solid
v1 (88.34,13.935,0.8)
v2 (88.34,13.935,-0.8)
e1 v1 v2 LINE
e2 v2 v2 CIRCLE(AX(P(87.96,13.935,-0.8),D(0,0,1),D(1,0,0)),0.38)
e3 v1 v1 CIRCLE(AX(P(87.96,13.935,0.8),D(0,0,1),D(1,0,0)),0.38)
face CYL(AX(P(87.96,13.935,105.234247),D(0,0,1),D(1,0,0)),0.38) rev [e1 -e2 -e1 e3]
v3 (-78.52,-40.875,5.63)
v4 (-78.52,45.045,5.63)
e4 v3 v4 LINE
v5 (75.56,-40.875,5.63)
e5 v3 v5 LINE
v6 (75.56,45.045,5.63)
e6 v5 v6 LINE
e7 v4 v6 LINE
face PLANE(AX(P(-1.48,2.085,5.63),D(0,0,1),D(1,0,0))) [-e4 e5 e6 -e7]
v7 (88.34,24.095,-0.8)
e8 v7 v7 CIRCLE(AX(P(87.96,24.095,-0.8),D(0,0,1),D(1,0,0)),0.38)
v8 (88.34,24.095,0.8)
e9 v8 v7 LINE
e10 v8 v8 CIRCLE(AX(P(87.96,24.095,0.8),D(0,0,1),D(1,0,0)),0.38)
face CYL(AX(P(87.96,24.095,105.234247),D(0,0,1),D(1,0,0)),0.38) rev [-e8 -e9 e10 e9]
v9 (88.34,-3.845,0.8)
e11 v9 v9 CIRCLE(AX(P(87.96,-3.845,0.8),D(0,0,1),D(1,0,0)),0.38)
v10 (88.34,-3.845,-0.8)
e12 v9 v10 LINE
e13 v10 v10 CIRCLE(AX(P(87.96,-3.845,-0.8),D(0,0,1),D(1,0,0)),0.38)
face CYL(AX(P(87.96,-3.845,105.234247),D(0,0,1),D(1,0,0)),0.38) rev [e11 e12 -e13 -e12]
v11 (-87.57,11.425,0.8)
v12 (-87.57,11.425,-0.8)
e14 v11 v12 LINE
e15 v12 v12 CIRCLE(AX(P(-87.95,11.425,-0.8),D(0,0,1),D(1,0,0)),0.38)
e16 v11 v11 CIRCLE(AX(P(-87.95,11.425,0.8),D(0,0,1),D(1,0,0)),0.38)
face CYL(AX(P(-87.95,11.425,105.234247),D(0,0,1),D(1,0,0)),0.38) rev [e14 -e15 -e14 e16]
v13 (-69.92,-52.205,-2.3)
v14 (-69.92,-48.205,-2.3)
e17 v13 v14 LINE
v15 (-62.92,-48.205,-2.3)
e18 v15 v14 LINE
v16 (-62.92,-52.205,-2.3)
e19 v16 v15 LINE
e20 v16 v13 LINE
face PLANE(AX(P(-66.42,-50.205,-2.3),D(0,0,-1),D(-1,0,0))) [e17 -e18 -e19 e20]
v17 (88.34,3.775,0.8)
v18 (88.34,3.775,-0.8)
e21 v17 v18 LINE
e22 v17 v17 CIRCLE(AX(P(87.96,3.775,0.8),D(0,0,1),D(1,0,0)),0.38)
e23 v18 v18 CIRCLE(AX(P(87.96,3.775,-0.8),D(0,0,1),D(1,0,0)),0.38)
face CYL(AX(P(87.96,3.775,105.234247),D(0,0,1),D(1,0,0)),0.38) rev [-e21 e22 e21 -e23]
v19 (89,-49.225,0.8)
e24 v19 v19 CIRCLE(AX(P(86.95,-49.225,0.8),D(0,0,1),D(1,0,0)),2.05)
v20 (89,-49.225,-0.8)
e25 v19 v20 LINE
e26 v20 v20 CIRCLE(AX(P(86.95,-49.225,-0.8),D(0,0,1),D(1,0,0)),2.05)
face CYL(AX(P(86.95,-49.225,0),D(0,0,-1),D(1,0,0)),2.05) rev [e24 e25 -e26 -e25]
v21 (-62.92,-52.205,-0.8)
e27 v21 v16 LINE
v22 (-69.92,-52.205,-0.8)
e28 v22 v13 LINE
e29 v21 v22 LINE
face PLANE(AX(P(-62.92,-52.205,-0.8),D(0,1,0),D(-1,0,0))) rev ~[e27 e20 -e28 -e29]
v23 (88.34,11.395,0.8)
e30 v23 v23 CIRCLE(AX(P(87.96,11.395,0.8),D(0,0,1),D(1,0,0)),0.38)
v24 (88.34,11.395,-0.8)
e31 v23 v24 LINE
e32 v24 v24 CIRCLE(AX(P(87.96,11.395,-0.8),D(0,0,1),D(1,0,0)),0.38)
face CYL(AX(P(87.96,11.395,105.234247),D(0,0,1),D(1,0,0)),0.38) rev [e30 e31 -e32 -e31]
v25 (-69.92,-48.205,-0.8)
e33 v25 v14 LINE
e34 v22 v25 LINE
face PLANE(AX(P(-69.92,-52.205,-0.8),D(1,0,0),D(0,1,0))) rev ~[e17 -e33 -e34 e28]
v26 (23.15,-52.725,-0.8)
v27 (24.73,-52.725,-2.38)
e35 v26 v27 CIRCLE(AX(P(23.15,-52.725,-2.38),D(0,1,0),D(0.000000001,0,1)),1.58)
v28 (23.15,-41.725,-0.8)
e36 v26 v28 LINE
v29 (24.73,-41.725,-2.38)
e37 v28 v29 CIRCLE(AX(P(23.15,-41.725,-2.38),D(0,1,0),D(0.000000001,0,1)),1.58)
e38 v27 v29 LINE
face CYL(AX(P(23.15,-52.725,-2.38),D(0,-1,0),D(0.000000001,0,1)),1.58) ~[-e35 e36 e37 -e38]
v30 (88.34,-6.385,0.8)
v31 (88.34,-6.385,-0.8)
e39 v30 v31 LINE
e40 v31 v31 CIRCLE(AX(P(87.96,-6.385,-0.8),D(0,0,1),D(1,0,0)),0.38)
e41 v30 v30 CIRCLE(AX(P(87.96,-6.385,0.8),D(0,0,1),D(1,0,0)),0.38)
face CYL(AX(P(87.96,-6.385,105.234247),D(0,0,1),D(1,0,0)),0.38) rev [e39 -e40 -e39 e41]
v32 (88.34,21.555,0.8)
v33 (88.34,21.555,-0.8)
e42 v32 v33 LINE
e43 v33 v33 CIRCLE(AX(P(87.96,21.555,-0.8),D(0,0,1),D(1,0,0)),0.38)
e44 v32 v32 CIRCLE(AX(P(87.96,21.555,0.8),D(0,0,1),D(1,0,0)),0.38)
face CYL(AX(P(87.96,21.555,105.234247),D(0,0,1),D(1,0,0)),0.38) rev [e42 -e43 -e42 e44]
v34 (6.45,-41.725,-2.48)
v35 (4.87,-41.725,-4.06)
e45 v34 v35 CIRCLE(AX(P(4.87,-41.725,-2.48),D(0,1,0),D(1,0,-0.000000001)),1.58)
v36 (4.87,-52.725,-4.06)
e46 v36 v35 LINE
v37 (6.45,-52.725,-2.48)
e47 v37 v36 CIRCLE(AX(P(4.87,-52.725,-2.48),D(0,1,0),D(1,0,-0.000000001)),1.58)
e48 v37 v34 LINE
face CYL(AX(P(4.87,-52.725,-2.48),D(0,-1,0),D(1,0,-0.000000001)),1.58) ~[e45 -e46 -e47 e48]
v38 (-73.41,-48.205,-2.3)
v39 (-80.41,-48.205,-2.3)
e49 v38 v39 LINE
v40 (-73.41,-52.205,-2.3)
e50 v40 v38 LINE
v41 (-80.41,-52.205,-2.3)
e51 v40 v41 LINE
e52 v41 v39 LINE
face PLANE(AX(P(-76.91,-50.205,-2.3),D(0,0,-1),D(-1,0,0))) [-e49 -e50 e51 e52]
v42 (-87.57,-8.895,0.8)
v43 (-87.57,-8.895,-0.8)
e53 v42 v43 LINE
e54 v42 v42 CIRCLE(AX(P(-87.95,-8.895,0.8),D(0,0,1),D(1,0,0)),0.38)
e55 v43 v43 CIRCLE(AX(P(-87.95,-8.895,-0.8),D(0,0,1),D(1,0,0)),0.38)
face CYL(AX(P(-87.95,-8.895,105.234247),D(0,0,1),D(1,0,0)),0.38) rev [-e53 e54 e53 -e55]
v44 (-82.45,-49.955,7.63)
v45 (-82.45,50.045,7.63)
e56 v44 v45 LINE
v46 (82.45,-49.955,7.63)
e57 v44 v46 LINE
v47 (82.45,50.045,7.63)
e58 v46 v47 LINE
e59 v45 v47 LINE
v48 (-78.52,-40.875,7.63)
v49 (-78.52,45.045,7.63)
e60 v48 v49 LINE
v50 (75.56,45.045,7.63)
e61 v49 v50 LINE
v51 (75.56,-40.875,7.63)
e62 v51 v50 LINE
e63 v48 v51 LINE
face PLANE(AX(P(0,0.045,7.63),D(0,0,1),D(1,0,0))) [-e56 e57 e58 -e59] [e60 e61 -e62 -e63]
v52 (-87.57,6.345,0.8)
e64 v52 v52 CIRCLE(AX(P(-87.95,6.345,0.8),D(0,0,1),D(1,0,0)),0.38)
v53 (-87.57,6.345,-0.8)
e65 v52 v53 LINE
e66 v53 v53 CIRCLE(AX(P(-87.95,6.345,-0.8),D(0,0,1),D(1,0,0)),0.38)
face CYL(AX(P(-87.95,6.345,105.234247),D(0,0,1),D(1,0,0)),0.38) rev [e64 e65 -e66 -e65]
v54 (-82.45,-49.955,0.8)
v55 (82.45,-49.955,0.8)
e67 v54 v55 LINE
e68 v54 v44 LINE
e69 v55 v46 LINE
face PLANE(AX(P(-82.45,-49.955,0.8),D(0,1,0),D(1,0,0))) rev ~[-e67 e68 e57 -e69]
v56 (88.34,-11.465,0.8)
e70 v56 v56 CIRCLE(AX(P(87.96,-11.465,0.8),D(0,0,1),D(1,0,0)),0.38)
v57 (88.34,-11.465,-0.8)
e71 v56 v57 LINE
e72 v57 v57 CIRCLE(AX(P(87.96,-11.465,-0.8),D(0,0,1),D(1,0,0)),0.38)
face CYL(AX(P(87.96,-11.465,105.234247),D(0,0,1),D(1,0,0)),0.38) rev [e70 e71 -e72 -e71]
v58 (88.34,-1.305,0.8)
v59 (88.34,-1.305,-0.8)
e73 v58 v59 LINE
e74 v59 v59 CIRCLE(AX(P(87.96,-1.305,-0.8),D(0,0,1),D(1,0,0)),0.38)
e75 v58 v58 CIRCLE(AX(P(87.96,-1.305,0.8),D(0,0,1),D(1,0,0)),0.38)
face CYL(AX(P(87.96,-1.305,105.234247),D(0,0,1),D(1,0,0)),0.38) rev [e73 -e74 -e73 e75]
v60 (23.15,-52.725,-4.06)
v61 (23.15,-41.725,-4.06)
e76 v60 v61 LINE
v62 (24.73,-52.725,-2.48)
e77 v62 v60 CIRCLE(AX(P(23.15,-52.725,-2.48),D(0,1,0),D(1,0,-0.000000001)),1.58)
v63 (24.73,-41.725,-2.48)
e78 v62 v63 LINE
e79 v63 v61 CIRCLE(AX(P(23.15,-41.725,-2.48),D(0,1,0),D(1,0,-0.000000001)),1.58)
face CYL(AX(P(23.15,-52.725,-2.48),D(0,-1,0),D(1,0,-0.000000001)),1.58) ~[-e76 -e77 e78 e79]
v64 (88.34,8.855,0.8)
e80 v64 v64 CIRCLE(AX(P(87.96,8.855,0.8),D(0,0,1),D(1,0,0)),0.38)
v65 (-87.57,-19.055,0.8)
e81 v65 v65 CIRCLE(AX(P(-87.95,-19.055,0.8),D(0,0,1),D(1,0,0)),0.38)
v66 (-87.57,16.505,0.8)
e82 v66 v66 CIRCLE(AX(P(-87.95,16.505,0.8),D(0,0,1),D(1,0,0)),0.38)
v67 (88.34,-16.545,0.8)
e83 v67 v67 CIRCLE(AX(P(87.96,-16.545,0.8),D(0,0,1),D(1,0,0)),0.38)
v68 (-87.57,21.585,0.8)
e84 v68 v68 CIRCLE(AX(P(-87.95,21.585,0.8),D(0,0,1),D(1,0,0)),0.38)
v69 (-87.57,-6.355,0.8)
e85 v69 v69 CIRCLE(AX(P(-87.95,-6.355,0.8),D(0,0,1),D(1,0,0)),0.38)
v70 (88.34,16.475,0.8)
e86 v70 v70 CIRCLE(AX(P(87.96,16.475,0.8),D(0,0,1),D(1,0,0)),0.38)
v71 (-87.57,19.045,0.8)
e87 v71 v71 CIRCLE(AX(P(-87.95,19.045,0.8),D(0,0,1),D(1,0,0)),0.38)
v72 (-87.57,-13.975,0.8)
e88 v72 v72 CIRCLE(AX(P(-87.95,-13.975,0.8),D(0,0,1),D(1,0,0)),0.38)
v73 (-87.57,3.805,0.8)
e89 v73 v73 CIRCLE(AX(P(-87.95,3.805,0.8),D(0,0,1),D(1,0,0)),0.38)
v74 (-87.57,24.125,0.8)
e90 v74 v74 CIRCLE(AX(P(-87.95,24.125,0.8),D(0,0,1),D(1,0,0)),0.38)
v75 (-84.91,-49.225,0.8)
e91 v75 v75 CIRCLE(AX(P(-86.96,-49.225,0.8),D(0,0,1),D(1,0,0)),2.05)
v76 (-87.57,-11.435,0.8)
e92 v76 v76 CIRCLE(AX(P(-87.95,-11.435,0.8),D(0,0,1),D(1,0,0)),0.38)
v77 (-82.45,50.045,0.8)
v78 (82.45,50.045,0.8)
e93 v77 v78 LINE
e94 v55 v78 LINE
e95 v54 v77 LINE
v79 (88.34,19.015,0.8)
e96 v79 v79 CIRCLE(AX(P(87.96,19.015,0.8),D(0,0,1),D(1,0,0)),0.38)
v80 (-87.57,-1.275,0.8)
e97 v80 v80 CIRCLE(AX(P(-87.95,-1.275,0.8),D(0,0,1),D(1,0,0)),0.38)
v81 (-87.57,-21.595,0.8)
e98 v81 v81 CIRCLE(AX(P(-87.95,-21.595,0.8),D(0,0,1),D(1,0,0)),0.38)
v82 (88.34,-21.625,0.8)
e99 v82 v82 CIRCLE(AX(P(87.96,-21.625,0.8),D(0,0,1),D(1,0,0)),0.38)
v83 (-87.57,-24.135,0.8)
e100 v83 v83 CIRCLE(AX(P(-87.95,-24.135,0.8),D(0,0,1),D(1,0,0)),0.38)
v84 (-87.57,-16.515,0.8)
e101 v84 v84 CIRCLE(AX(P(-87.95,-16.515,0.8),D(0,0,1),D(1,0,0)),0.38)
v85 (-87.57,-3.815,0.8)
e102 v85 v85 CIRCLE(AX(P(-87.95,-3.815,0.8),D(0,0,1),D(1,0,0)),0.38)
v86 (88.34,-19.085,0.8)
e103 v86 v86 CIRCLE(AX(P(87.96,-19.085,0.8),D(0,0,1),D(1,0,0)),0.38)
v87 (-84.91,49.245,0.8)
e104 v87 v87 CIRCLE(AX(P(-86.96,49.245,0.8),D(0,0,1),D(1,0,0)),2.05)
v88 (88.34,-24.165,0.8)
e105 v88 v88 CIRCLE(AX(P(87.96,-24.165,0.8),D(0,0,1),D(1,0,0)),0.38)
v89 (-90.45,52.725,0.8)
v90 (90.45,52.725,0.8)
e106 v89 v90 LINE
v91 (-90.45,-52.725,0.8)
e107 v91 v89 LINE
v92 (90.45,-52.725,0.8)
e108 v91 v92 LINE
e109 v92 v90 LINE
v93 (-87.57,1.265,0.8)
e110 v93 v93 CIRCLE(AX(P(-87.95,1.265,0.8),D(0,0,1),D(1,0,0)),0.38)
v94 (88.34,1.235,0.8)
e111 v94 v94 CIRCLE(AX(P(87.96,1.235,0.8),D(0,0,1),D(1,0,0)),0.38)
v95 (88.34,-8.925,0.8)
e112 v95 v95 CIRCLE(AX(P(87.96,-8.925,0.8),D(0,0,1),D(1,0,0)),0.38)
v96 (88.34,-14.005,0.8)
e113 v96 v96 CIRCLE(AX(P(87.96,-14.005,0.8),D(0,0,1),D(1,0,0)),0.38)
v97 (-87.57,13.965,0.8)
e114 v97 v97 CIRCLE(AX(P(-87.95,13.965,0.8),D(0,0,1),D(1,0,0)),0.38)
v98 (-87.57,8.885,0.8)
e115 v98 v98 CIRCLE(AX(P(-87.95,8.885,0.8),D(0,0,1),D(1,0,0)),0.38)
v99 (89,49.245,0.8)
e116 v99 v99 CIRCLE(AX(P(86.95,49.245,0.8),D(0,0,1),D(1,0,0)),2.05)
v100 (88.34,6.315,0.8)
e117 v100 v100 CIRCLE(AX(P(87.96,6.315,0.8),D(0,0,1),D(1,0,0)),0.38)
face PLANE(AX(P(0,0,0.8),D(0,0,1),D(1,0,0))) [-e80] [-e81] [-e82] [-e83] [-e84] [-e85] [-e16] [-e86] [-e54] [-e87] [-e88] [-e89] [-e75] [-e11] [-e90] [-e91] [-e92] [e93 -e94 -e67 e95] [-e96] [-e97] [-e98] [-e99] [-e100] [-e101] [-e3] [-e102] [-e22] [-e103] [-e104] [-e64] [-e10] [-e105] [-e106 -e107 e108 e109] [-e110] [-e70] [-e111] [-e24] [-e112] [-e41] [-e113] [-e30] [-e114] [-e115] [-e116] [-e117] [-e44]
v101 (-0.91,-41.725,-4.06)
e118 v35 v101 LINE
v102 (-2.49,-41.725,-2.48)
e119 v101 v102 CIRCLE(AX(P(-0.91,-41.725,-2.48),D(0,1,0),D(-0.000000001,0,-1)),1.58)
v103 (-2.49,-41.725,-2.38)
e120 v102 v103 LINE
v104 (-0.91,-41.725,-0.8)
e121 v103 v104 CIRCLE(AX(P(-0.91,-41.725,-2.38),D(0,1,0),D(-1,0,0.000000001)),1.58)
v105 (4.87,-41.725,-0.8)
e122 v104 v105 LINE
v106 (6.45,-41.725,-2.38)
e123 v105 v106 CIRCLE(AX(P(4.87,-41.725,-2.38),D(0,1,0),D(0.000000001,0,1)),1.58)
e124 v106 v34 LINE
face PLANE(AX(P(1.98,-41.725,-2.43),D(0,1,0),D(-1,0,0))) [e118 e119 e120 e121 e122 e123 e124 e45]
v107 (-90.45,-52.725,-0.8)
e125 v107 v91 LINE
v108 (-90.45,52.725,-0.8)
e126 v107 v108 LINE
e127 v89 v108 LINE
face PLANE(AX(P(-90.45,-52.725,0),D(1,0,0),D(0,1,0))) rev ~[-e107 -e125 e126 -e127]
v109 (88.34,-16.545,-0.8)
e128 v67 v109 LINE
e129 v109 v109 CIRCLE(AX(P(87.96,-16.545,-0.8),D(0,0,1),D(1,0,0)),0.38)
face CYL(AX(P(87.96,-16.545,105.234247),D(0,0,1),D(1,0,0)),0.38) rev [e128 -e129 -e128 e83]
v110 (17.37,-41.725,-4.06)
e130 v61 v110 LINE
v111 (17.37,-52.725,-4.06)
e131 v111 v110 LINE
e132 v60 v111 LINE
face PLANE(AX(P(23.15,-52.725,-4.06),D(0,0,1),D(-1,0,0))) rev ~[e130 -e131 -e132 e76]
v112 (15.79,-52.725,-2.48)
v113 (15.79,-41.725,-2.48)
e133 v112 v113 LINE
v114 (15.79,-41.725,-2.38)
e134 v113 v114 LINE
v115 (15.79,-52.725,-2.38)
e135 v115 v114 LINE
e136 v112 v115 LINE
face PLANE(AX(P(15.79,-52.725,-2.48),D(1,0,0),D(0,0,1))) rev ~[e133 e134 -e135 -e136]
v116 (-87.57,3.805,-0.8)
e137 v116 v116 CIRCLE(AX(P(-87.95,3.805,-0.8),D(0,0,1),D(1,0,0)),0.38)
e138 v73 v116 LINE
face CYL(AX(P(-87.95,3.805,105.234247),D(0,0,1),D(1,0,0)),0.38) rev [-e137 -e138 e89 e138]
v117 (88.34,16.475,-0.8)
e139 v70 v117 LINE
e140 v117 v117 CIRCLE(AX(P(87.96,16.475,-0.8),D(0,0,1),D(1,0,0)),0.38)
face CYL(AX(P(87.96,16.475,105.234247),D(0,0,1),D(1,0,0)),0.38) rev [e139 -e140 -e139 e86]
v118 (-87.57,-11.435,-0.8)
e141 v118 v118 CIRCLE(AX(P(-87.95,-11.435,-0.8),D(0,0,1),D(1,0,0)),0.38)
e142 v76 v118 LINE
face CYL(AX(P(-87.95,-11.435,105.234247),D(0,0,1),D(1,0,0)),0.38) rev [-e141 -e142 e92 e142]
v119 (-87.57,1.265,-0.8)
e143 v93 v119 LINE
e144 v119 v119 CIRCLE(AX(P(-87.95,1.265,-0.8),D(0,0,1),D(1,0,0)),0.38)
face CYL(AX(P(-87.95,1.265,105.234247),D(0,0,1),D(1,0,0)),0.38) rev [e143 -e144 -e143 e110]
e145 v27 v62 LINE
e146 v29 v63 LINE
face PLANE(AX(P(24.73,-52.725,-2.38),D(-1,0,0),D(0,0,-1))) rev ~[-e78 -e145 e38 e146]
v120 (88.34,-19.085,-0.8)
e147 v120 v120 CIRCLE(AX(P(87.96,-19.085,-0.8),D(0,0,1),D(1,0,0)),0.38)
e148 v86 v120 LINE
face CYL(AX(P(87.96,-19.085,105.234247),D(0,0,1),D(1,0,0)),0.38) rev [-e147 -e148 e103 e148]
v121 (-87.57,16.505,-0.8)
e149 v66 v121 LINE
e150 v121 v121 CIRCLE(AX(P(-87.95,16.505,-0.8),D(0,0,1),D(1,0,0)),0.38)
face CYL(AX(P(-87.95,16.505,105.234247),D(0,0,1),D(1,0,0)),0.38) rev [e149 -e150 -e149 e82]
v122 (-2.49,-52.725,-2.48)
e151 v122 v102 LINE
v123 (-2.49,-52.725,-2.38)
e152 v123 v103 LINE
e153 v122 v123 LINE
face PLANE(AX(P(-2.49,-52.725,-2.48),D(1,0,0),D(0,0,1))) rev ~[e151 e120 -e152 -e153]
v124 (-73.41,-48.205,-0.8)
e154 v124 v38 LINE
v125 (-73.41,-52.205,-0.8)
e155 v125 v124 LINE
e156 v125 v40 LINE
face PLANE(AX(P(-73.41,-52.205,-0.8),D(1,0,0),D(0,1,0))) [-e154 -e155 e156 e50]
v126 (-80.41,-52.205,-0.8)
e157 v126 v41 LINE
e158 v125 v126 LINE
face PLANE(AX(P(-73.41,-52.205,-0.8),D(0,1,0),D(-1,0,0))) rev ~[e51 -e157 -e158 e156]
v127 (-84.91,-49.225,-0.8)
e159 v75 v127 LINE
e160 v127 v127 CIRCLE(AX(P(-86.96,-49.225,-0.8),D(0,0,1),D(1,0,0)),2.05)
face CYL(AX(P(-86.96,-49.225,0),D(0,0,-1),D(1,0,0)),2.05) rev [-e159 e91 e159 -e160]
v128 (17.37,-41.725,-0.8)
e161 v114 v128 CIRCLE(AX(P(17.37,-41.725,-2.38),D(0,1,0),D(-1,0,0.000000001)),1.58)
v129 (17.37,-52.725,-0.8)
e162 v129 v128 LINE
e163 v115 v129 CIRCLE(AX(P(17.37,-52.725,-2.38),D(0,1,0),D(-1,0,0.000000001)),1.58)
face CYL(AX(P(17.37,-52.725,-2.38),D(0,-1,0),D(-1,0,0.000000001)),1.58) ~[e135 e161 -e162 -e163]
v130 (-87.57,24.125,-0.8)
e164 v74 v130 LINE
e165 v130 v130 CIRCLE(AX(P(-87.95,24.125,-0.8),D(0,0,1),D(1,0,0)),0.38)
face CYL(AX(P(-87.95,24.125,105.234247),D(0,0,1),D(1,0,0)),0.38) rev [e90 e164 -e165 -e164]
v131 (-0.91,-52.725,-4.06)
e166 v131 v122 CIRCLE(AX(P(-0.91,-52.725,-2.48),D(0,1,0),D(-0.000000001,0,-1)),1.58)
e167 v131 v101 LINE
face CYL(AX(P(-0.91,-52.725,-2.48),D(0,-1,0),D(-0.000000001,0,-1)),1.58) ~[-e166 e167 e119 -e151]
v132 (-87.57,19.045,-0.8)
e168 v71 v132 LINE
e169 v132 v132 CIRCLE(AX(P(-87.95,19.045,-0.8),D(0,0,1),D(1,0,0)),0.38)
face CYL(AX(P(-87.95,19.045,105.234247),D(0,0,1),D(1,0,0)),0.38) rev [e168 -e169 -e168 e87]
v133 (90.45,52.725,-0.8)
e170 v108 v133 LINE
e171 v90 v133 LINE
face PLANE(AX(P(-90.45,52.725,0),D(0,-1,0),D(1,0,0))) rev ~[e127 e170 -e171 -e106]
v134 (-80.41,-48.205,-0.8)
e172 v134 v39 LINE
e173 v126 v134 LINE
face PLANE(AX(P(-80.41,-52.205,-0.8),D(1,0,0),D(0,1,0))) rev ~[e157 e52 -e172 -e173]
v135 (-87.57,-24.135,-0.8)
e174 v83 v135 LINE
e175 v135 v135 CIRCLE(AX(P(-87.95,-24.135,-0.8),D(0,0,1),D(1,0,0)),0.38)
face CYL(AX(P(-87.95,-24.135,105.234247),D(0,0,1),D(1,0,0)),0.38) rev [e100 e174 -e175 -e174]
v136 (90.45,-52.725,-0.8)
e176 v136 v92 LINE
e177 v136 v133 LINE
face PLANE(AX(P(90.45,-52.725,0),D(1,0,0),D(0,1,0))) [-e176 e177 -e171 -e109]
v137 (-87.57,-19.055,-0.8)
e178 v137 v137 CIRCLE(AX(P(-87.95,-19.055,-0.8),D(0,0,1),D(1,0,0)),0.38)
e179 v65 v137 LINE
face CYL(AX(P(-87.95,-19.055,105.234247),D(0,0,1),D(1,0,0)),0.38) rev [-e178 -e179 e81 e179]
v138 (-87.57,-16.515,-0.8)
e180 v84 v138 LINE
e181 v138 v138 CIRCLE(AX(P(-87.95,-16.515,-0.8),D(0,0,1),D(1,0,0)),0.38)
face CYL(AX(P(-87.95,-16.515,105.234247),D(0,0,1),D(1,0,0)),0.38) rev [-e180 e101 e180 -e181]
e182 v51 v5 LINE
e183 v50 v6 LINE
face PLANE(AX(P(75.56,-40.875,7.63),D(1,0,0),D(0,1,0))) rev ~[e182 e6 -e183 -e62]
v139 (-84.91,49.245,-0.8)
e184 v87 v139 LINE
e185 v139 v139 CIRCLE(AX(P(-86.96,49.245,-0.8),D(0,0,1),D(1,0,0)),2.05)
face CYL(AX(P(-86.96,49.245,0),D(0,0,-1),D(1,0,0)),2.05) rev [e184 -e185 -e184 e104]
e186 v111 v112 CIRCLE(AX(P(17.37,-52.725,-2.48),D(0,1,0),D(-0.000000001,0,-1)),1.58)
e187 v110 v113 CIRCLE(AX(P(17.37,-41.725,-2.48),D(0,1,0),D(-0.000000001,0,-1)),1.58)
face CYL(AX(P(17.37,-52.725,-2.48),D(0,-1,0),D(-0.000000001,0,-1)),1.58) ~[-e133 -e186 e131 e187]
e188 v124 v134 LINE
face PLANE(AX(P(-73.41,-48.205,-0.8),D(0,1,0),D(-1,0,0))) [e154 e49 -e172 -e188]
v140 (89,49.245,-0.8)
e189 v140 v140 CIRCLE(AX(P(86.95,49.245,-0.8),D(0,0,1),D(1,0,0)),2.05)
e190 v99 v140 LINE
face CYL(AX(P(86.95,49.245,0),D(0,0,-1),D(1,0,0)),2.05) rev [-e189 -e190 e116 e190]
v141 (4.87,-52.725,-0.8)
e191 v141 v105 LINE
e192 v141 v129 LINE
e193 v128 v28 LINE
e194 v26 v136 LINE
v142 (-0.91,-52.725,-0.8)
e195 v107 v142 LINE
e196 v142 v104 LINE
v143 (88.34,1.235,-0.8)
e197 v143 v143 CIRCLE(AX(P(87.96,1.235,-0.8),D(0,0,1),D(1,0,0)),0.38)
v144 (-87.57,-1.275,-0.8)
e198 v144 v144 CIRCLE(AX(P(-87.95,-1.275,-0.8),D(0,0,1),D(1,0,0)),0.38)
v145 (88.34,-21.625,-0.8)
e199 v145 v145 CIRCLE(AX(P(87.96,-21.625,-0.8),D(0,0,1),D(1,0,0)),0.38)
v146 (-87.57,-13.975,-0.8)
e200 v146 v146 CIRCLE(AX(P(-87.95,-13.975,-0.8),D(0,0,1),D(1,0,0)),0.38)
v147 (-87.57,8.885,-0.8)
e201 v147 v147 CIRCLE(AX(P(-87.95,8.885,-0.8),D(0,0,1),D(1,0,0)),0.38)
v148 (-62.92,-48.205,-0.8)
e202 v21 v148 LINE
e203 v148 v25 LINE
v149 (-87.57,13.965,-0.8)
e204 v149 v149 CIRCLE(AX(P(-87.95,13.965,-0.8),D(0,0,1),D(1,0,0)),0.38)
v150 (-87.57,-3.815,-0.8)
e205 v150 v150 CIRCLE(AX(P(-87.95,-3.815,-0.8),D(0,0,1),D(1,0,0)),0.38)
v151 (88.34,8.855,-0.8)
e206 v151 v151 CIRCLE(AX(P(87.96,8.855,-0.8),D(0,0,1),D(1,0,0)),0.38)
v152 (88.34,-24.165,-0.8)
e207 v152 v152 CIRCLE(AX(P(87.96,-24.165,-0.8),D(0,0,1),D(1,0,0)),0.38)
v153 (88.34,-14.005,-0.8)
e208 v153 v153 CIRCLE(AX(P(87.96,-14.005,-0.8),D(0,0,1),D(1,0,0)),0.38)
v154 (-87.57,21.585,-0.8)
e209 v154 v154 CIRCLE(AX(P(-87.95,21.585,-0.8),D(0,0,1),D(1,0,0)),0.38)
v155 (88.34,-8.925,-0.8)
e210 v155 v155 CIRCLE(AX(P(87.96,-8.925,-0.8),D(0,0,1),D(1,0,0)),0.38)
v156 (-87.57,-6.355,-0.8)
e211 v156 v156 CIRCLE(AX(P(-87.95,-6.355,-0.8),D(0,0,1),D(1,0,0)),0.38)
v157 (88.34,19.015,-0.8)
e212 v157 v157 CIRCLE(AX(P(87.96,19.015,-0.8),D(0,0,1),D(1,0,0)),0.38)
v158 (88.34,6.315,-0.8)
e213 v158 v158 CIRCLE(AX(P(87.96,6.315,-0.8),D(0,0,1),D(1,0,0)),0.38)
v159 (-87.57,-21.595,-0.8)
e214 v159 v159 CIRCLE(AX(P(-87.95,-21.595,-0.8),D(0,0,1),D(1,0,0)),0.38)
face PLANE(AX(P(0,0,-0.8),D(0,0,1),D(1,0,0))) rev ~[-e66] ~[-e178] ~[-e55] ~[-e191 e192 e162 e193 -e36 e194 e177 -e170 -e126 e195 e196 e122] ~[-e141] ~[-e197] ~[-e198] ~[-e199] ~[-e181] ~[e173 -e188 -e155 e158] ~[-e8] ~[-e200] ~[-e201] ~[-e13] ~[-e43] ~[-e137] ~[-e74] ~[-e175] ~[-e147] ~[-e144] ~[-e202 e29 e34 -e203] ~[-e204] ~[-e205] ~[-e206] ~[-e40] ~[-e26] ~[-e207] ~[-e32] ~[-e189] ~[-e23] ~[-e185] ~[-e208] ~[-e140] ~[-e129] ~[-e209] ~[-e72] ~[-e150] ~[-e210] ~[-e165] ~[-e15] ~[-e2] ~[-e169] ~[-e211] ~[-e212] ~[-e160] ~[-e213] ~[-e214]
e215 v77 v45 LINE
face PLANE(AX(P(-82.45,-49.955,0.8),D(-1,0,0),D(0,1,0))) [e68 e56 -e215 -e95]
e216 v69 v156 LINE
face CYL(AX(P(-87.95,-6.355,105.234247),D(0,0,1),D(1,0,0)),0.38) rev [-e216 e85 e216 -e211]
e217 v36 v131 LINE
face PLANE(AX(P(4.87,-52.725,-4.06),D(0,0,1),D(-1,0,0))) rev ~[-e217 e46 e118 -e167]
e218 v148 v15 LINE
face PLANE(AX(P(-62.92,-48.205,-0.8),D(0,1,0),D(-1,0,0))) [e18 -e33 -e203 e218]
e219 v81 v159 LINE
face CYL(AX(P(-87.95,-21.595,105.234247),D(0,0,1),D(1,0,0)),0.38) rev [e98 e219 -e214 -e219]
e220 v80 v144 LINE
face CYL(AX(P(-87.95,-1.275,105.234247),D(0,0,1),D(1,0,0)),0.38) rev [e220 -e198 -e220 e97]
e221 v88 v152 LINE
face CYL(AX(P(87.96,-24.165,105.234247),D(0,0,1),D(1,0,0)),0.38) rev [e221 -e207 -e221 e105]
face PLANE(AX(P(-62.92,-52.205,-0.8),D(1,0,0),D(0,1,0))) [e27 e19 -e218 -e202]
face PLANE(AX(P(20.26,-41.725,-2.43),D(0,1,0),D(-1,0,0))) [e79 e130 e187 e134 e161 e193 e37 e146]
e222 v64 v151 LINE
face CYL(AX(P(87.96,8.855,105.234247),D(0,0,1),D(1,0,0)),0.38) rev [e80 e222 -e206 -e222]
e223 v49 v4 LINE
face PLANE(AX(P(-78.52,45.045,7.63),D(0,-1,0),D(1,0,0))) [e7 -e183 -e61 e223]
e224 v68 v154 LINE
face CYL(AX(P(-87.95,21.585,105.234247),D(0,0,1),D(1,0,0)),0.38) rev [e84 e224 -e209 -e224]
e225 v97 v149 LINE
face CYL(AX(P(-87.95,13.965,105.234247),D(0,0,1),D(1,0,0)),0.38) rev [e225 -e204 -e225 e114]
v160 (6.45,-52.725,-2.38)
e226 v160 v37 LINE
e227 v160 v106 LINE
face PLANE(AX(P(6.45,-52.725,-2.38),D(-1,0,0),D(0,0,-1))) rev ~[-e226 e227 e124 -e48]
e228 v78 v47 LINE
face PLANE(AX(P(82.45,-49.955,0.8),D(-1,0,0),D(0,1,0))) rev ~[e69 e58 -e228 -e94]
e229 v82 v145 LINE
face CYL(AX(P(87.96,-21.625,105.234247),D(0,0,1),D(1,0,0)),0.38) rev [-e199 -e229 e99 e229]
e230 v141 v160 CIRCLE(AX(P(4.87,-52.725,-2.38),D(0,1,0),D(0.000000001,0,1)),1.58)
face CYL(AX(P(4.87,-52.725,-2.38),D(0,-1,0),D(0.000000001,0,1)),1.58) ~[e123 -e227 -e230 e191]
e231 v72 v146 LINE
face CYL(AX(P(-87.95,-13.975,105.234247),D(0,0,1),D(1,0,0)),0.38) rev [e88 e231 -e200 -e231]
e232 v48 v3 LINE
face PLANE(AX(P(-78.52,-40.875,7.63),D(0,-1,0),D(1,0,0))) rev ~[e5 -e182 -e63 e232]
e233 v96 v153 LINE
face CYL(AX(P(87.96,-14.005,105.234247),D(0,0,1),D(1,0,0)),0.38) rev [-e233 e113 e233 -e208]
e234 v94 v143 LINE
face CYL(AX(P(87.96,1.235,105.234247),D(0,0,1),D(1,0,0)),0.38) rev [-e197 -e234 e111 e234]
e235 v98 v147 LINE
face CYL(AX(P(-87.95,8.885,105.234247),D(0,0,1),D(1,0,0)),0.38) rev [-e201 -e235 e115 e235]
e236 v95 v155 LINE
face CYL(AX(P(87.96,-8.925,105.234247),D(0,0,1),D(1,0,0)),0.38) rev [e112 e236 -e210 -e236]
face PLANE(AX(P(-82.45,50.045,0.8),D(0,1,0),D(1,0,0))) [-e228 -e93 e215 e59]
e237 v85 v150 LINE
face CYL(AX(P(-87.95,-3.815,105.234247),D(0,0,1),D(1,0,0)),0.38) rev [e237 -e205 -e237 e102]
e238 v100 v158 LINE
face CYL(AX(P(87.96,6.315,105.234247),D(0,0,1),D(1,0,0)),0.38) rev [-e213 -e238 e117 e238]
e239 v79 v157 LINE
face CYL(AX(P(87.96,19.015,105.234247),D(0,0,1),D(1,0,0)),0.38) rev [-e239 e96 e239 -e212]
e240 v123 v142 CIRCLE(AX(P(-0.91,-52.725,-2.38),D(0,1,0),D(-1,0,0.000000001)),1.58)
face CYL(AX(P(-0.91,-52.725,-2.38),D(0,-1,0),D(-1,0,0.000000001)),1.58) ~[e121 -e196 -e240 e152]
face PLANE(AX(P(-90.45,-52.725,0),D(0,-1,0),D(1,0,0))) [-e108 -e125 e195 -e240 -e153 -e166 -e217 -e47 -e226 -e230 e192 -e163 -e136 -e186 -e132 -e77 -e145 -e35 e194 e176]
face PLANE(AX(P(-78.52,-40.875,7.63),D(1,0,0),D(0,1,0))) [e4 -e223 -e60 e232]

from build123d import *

# Parameters (mm, degrees)
SKETCH1_W               = 180.9
SKETCH1_H               = 105.45
SKETCH1_R               = 2.05
BOSS_EXTRUDE1_DEPTH     = 0.8
SKETCH2_W               = 164.9
SKETCH2_H               = 100
BOSS_EXTRUDE2_DEPTH     = 6.83
BOSS_EXTRUDE3_DEPTH     = 11
SKETCH4_W               = 7
SKETCH4_H               = 4
BOSS_EXTRUDE4_DEPTH     = 1.5
CUT_EXTRUDE1_DEPTH      = 106.034246915
CUT_EXTRUDE1_DEPTH_BACK = 106.034246915
SKETCH5_R               = 0.38
SKETCH6_W               = 154.08
SKETCH6_H               = 85.92
CUT_EXTRUDE2_DEPTH      = 2


with BuildPart() as part:
    # Sketch1 → Boss-Extrude1 (new, symmetric)
    with BuildSketch(Plane.XY):
        Rectangle(SKETCH1_W, SKETCH1_H)
        with Locations((86.95, 49.245)):
            Circle(SKETCH1_R, mode=Mode.SUBTRACT)
        with Locations((-86.96, 49.245)):
            Circle(SKETCH1_R, mode=Mode.SUBTRACT)
        with Locations((-86.96, -49.225)):
            Circle(SKETCH1_R, mode=Mode.SUBTRACT)
        with Locations((86.95, -49.225)):
            Circle(SKETCH1_R, mode=Mode.SUBTRACT)
    extrude(amount=BOSS_EXTRUDE1_DEPTH, both=True)

    # Sketch2 → Boss-Extrude2 (add)
    with BuildSketch(Plane.XY.offset(0.8)):
        with Locations((0, 0.045)):
            Rectangle(SKETCH2_W, SKETCH2_H)
    extrude(amount=BOSS_EXTRUDE2_DEPTH)

    # Sketch3 → Boss-Extrude3 (add)
    with BuildSketch(Plane.XZ.offset(52.725)):
        with BuildLine():
            Line((17.37, -0.8), (23.15, -0.8))
            ThreePointArc((23.15, -0.8), (24.267228714, -1.262771286), (24.73, -2.38))
            Line((24.73, -2.38), (24.73, -2.48))
            ThreePointArc((24.73, -2.48), (24.267228714, -3.597228714), (23.15, -4.06))
            Line((23.15, -4.06), (17.37, -4.06))
            ThreePointArc((17.37, -4.06), (16.252771286, -3.597228714), (15.79, -2.48))
            Line((15.79, -2.48), (15.79, -2.38))
            ThreePointArc((15.79, -2.38), (16.252771286, -1.262771286), (17.37, -0.8))
        make_face()
        with BuildLine():
            Line((-0.91, -0.8), (4.87, -0.8))
            ThreePointArc((4.87, -0.8), (5.987228714, -1.262771286), (6.45, -2.38))
            Line((6.45, -2.38), (6.45, -2.48))
            ThreePointArc((6.45, -2.48), (5.987228714, -3.597228714), (4.87, -4.06))
            Line((4.87, -4.06), (-0.91, -4.06))
            ThreePointArc((-0.91, -4.06), (-2.027228714, -3.597228714), (-2.49, -2.48))
            Line((-2.49, -2.48), (-2.49, -2.38))
            ThreePointArc((-2.49, -2.38), (-2.027228714, -1.262771286), (-0.91, -0.8))
        make_face()
    extrude(amount=-BOSS_EXTRUDE3_DEPTH)

    # Sketch4 → Boss-Extrude4 (add)
    with BuildSketch(Plane(origin=(0, 0, -0.8), x_dir=(-1, 0, 0), z_dir=(0, 0, -1))):
        with Locations((66.42, -50.205)):
            Rectangle(SKETCH4_W, SKETCH4_H)
        with Locations((76.91, -50.205)):
            Rectangle(SKETCH4_W, SKETCH4_H)
    extrude(amount=BOSS_EXTRUDE4_DEPTH)

    # Sketch5 → Cut-Extrude1 (cut, two sides: drawn at the far end of the back side and taken through both)
    with BuildSketch(Plane(origin=(0, 0, -0.8), x_dir=(-1, 0, 0), z_dir=(0, 0, -1)).offset(-CUT_EXTRUDE1_DEPTH_BACK)):
        with Locations(Location((87.95, 24.125, 0), (0, 0, 180))):
            Circle(SKETCH5_R)
        with Locations(Location((87.95, 21.585, 0), (0, 0, 180))):
            Circle(SKETCH5_R)
        with Locations(Location((87.95, 19.045, 0), (0, 0, 180))):
            Circle(SKETCH5_R)
        with Locations(Location((87.95, 16.505, 0), (0, 0, 180))):
            Circle(SKETCH5_R)
        with Locations(Location((87.95, 13.965, 0), (0, 0, 180))):
            Circle(SKETCH5_R)
        with Locations(Location((87.95, 11.425, 0), (0, 0, 180))):
            Circle(SKETCH5_R)
        with Locations(Location((87.95, 8.885, 0), (0, 0, 180))):
            Circle(SKETCH5_R)
        with Locations(Location((87.95, 6.345, 0), (0, 0, 180))):
            Circle(SKETCH5_R)
        with Locations(Location((87.95, 3.805, 0), (0, 0, 180))):
            Circle(SKETCH5_R)
        with Locations(Location((87.95, 1.265, 0), (0, 0, 180))):
            Circle(SKETCH5_R)
        with Locations(Location((87.95, -1.275, 0), (0, 0, 180))):
            Circle(SKETCH5_R)
        with Locations(Location((87.95, -3.815, 0), (0, 0, 180))):
            Circle(SKETCH5_R)
        with Locations(Location((87.95, -6.355, 0), (0, 0, 180))):
            Circle(SKETCH5_R)
        with Locations(Location((87.95, -8.895, 0), (0, 0, 180))):
            Circle(SKETCH5_R)
        with Locations(Location((87.95, -11.435, 0), (0, 0, 180))):
            Circle(SKETCH5_R)
        with Locations(Location((87.95, -13.975, 0), (0, 0, 180))):
            Circle(SKETCH5_R)
        with Locations(Location((87.95, -16.515, 0), (0, 0, 180))):
            Circle(SKETCH5_R)
        with Locations(Location((87.95, -19.055, 0), (0, 0, 180))):
            Circle(SKETCH5_R)
        with Locations(Location((87.95, -21.595, 0), (0, 0, 180))):
            Circle(SKETCH5_R)
        with Locations(Location((87.95, -24.135, 0), (0, 0, 180))):
            Circle(SKETCH5_R)
        with Locations(Location((-87.96, 24.095, 0), (0, 0, 180))):
            Circle(SKETCH5_R)
        with Locations(Location((-87.96, 21.555, 0), (0, 0, 180))):
            Circle(SKETCH5_R)
        with Locations(Location((-87.96, 19.015, 0), (0, 0, 180))):
            Circle(SKETCH5_R)
        with Locations(Location((-87.96, 16.475, 0), (0, 0, 180))):
            Circle(SKETCH5_R)
        with Locations(Location((-87.96, 13.935, 0), (0, 0, 180))):
            Circle(SKETCH5_R)
        with Locations(Location((-87.96, 11.395, 0), (0, 0, 180))):
            Circle(SKETCH5_R)
        with Locations(Location((-87.96, 8.855, 0), (0, 0, 180))):
            Circle(SKETCH5_R)
        with Locations(Location((-87.96, 6.315, 0), (0, 0, 180))):
            Circle(SKETCH5_R)
        with Locations(Location((-87.96, 3.775, 0), (0, 0, 180))):
            Circle(SKETCH5_R)
        with Locations(Location((-87.96, 1.235, 0), (0, 0, 180))):
            Circle(SKETCH5_R)
        with Locations(Location((-87.96, -1.305, 0), (0, 0, 180))):
            Circle(SKETCH5_R)
        with Locations(Location((-87.96, -3.845, 0), (0, 0, 180))):
            Circle(SKETCH5_R)
        with Locations(Location((-87.96, -6.385, 0), (0, 0, 180))):
            Circle(SKETCH5_R)
        with Locations(Location((-87.96, -8.925, 0), (0, 0, 180))):
            Circle(SKETCH5_R)
        with Locations(Location((-87.96, -11.465, 0), (0, 0, 180))):
            Circle(SKETCH5_R)
        with Locations(Location((-87.96, -14.005, 0), (0, 0, 180))):
            Circle(SKETCH5_R)
        with Locations(Location((-87.96, -16.545, 0), (0, 0, 180))):
            Circle(SKETCH5_R)
        with Locations(Location((-87.96, -19.085, 0), (0, 0, 180))):
            Circle(SKETCH5_R)
        with Locations(Location((-87.96, -21.625, 0), (0, 0, 180))):
            Circle(SKETCH5_R)
        with Locations(Location((-87.96, -24.165, 0), (0, 0, 180))):
            Circle(SKETCH5_R)
    extrude(amount=CUT_EXTRUDE1_DEPTH + CUT_EXTRUDE1_DEPTH_BACK, mode=Mode.SUBTRACT)

    # Sketch6 → Cut-Extrude2 (cut)
    with BuildSketch(Plane.XY.offset(7.63)):
        with Locations((-1.48, 2.085)):
            Rectangle(SKETCH6_W, SKETCH6_H)
    extrude(amount=-CUT_EXTRUDE2_DEPTH, mode=Mode.SUBTRACT)


solid = part.part
